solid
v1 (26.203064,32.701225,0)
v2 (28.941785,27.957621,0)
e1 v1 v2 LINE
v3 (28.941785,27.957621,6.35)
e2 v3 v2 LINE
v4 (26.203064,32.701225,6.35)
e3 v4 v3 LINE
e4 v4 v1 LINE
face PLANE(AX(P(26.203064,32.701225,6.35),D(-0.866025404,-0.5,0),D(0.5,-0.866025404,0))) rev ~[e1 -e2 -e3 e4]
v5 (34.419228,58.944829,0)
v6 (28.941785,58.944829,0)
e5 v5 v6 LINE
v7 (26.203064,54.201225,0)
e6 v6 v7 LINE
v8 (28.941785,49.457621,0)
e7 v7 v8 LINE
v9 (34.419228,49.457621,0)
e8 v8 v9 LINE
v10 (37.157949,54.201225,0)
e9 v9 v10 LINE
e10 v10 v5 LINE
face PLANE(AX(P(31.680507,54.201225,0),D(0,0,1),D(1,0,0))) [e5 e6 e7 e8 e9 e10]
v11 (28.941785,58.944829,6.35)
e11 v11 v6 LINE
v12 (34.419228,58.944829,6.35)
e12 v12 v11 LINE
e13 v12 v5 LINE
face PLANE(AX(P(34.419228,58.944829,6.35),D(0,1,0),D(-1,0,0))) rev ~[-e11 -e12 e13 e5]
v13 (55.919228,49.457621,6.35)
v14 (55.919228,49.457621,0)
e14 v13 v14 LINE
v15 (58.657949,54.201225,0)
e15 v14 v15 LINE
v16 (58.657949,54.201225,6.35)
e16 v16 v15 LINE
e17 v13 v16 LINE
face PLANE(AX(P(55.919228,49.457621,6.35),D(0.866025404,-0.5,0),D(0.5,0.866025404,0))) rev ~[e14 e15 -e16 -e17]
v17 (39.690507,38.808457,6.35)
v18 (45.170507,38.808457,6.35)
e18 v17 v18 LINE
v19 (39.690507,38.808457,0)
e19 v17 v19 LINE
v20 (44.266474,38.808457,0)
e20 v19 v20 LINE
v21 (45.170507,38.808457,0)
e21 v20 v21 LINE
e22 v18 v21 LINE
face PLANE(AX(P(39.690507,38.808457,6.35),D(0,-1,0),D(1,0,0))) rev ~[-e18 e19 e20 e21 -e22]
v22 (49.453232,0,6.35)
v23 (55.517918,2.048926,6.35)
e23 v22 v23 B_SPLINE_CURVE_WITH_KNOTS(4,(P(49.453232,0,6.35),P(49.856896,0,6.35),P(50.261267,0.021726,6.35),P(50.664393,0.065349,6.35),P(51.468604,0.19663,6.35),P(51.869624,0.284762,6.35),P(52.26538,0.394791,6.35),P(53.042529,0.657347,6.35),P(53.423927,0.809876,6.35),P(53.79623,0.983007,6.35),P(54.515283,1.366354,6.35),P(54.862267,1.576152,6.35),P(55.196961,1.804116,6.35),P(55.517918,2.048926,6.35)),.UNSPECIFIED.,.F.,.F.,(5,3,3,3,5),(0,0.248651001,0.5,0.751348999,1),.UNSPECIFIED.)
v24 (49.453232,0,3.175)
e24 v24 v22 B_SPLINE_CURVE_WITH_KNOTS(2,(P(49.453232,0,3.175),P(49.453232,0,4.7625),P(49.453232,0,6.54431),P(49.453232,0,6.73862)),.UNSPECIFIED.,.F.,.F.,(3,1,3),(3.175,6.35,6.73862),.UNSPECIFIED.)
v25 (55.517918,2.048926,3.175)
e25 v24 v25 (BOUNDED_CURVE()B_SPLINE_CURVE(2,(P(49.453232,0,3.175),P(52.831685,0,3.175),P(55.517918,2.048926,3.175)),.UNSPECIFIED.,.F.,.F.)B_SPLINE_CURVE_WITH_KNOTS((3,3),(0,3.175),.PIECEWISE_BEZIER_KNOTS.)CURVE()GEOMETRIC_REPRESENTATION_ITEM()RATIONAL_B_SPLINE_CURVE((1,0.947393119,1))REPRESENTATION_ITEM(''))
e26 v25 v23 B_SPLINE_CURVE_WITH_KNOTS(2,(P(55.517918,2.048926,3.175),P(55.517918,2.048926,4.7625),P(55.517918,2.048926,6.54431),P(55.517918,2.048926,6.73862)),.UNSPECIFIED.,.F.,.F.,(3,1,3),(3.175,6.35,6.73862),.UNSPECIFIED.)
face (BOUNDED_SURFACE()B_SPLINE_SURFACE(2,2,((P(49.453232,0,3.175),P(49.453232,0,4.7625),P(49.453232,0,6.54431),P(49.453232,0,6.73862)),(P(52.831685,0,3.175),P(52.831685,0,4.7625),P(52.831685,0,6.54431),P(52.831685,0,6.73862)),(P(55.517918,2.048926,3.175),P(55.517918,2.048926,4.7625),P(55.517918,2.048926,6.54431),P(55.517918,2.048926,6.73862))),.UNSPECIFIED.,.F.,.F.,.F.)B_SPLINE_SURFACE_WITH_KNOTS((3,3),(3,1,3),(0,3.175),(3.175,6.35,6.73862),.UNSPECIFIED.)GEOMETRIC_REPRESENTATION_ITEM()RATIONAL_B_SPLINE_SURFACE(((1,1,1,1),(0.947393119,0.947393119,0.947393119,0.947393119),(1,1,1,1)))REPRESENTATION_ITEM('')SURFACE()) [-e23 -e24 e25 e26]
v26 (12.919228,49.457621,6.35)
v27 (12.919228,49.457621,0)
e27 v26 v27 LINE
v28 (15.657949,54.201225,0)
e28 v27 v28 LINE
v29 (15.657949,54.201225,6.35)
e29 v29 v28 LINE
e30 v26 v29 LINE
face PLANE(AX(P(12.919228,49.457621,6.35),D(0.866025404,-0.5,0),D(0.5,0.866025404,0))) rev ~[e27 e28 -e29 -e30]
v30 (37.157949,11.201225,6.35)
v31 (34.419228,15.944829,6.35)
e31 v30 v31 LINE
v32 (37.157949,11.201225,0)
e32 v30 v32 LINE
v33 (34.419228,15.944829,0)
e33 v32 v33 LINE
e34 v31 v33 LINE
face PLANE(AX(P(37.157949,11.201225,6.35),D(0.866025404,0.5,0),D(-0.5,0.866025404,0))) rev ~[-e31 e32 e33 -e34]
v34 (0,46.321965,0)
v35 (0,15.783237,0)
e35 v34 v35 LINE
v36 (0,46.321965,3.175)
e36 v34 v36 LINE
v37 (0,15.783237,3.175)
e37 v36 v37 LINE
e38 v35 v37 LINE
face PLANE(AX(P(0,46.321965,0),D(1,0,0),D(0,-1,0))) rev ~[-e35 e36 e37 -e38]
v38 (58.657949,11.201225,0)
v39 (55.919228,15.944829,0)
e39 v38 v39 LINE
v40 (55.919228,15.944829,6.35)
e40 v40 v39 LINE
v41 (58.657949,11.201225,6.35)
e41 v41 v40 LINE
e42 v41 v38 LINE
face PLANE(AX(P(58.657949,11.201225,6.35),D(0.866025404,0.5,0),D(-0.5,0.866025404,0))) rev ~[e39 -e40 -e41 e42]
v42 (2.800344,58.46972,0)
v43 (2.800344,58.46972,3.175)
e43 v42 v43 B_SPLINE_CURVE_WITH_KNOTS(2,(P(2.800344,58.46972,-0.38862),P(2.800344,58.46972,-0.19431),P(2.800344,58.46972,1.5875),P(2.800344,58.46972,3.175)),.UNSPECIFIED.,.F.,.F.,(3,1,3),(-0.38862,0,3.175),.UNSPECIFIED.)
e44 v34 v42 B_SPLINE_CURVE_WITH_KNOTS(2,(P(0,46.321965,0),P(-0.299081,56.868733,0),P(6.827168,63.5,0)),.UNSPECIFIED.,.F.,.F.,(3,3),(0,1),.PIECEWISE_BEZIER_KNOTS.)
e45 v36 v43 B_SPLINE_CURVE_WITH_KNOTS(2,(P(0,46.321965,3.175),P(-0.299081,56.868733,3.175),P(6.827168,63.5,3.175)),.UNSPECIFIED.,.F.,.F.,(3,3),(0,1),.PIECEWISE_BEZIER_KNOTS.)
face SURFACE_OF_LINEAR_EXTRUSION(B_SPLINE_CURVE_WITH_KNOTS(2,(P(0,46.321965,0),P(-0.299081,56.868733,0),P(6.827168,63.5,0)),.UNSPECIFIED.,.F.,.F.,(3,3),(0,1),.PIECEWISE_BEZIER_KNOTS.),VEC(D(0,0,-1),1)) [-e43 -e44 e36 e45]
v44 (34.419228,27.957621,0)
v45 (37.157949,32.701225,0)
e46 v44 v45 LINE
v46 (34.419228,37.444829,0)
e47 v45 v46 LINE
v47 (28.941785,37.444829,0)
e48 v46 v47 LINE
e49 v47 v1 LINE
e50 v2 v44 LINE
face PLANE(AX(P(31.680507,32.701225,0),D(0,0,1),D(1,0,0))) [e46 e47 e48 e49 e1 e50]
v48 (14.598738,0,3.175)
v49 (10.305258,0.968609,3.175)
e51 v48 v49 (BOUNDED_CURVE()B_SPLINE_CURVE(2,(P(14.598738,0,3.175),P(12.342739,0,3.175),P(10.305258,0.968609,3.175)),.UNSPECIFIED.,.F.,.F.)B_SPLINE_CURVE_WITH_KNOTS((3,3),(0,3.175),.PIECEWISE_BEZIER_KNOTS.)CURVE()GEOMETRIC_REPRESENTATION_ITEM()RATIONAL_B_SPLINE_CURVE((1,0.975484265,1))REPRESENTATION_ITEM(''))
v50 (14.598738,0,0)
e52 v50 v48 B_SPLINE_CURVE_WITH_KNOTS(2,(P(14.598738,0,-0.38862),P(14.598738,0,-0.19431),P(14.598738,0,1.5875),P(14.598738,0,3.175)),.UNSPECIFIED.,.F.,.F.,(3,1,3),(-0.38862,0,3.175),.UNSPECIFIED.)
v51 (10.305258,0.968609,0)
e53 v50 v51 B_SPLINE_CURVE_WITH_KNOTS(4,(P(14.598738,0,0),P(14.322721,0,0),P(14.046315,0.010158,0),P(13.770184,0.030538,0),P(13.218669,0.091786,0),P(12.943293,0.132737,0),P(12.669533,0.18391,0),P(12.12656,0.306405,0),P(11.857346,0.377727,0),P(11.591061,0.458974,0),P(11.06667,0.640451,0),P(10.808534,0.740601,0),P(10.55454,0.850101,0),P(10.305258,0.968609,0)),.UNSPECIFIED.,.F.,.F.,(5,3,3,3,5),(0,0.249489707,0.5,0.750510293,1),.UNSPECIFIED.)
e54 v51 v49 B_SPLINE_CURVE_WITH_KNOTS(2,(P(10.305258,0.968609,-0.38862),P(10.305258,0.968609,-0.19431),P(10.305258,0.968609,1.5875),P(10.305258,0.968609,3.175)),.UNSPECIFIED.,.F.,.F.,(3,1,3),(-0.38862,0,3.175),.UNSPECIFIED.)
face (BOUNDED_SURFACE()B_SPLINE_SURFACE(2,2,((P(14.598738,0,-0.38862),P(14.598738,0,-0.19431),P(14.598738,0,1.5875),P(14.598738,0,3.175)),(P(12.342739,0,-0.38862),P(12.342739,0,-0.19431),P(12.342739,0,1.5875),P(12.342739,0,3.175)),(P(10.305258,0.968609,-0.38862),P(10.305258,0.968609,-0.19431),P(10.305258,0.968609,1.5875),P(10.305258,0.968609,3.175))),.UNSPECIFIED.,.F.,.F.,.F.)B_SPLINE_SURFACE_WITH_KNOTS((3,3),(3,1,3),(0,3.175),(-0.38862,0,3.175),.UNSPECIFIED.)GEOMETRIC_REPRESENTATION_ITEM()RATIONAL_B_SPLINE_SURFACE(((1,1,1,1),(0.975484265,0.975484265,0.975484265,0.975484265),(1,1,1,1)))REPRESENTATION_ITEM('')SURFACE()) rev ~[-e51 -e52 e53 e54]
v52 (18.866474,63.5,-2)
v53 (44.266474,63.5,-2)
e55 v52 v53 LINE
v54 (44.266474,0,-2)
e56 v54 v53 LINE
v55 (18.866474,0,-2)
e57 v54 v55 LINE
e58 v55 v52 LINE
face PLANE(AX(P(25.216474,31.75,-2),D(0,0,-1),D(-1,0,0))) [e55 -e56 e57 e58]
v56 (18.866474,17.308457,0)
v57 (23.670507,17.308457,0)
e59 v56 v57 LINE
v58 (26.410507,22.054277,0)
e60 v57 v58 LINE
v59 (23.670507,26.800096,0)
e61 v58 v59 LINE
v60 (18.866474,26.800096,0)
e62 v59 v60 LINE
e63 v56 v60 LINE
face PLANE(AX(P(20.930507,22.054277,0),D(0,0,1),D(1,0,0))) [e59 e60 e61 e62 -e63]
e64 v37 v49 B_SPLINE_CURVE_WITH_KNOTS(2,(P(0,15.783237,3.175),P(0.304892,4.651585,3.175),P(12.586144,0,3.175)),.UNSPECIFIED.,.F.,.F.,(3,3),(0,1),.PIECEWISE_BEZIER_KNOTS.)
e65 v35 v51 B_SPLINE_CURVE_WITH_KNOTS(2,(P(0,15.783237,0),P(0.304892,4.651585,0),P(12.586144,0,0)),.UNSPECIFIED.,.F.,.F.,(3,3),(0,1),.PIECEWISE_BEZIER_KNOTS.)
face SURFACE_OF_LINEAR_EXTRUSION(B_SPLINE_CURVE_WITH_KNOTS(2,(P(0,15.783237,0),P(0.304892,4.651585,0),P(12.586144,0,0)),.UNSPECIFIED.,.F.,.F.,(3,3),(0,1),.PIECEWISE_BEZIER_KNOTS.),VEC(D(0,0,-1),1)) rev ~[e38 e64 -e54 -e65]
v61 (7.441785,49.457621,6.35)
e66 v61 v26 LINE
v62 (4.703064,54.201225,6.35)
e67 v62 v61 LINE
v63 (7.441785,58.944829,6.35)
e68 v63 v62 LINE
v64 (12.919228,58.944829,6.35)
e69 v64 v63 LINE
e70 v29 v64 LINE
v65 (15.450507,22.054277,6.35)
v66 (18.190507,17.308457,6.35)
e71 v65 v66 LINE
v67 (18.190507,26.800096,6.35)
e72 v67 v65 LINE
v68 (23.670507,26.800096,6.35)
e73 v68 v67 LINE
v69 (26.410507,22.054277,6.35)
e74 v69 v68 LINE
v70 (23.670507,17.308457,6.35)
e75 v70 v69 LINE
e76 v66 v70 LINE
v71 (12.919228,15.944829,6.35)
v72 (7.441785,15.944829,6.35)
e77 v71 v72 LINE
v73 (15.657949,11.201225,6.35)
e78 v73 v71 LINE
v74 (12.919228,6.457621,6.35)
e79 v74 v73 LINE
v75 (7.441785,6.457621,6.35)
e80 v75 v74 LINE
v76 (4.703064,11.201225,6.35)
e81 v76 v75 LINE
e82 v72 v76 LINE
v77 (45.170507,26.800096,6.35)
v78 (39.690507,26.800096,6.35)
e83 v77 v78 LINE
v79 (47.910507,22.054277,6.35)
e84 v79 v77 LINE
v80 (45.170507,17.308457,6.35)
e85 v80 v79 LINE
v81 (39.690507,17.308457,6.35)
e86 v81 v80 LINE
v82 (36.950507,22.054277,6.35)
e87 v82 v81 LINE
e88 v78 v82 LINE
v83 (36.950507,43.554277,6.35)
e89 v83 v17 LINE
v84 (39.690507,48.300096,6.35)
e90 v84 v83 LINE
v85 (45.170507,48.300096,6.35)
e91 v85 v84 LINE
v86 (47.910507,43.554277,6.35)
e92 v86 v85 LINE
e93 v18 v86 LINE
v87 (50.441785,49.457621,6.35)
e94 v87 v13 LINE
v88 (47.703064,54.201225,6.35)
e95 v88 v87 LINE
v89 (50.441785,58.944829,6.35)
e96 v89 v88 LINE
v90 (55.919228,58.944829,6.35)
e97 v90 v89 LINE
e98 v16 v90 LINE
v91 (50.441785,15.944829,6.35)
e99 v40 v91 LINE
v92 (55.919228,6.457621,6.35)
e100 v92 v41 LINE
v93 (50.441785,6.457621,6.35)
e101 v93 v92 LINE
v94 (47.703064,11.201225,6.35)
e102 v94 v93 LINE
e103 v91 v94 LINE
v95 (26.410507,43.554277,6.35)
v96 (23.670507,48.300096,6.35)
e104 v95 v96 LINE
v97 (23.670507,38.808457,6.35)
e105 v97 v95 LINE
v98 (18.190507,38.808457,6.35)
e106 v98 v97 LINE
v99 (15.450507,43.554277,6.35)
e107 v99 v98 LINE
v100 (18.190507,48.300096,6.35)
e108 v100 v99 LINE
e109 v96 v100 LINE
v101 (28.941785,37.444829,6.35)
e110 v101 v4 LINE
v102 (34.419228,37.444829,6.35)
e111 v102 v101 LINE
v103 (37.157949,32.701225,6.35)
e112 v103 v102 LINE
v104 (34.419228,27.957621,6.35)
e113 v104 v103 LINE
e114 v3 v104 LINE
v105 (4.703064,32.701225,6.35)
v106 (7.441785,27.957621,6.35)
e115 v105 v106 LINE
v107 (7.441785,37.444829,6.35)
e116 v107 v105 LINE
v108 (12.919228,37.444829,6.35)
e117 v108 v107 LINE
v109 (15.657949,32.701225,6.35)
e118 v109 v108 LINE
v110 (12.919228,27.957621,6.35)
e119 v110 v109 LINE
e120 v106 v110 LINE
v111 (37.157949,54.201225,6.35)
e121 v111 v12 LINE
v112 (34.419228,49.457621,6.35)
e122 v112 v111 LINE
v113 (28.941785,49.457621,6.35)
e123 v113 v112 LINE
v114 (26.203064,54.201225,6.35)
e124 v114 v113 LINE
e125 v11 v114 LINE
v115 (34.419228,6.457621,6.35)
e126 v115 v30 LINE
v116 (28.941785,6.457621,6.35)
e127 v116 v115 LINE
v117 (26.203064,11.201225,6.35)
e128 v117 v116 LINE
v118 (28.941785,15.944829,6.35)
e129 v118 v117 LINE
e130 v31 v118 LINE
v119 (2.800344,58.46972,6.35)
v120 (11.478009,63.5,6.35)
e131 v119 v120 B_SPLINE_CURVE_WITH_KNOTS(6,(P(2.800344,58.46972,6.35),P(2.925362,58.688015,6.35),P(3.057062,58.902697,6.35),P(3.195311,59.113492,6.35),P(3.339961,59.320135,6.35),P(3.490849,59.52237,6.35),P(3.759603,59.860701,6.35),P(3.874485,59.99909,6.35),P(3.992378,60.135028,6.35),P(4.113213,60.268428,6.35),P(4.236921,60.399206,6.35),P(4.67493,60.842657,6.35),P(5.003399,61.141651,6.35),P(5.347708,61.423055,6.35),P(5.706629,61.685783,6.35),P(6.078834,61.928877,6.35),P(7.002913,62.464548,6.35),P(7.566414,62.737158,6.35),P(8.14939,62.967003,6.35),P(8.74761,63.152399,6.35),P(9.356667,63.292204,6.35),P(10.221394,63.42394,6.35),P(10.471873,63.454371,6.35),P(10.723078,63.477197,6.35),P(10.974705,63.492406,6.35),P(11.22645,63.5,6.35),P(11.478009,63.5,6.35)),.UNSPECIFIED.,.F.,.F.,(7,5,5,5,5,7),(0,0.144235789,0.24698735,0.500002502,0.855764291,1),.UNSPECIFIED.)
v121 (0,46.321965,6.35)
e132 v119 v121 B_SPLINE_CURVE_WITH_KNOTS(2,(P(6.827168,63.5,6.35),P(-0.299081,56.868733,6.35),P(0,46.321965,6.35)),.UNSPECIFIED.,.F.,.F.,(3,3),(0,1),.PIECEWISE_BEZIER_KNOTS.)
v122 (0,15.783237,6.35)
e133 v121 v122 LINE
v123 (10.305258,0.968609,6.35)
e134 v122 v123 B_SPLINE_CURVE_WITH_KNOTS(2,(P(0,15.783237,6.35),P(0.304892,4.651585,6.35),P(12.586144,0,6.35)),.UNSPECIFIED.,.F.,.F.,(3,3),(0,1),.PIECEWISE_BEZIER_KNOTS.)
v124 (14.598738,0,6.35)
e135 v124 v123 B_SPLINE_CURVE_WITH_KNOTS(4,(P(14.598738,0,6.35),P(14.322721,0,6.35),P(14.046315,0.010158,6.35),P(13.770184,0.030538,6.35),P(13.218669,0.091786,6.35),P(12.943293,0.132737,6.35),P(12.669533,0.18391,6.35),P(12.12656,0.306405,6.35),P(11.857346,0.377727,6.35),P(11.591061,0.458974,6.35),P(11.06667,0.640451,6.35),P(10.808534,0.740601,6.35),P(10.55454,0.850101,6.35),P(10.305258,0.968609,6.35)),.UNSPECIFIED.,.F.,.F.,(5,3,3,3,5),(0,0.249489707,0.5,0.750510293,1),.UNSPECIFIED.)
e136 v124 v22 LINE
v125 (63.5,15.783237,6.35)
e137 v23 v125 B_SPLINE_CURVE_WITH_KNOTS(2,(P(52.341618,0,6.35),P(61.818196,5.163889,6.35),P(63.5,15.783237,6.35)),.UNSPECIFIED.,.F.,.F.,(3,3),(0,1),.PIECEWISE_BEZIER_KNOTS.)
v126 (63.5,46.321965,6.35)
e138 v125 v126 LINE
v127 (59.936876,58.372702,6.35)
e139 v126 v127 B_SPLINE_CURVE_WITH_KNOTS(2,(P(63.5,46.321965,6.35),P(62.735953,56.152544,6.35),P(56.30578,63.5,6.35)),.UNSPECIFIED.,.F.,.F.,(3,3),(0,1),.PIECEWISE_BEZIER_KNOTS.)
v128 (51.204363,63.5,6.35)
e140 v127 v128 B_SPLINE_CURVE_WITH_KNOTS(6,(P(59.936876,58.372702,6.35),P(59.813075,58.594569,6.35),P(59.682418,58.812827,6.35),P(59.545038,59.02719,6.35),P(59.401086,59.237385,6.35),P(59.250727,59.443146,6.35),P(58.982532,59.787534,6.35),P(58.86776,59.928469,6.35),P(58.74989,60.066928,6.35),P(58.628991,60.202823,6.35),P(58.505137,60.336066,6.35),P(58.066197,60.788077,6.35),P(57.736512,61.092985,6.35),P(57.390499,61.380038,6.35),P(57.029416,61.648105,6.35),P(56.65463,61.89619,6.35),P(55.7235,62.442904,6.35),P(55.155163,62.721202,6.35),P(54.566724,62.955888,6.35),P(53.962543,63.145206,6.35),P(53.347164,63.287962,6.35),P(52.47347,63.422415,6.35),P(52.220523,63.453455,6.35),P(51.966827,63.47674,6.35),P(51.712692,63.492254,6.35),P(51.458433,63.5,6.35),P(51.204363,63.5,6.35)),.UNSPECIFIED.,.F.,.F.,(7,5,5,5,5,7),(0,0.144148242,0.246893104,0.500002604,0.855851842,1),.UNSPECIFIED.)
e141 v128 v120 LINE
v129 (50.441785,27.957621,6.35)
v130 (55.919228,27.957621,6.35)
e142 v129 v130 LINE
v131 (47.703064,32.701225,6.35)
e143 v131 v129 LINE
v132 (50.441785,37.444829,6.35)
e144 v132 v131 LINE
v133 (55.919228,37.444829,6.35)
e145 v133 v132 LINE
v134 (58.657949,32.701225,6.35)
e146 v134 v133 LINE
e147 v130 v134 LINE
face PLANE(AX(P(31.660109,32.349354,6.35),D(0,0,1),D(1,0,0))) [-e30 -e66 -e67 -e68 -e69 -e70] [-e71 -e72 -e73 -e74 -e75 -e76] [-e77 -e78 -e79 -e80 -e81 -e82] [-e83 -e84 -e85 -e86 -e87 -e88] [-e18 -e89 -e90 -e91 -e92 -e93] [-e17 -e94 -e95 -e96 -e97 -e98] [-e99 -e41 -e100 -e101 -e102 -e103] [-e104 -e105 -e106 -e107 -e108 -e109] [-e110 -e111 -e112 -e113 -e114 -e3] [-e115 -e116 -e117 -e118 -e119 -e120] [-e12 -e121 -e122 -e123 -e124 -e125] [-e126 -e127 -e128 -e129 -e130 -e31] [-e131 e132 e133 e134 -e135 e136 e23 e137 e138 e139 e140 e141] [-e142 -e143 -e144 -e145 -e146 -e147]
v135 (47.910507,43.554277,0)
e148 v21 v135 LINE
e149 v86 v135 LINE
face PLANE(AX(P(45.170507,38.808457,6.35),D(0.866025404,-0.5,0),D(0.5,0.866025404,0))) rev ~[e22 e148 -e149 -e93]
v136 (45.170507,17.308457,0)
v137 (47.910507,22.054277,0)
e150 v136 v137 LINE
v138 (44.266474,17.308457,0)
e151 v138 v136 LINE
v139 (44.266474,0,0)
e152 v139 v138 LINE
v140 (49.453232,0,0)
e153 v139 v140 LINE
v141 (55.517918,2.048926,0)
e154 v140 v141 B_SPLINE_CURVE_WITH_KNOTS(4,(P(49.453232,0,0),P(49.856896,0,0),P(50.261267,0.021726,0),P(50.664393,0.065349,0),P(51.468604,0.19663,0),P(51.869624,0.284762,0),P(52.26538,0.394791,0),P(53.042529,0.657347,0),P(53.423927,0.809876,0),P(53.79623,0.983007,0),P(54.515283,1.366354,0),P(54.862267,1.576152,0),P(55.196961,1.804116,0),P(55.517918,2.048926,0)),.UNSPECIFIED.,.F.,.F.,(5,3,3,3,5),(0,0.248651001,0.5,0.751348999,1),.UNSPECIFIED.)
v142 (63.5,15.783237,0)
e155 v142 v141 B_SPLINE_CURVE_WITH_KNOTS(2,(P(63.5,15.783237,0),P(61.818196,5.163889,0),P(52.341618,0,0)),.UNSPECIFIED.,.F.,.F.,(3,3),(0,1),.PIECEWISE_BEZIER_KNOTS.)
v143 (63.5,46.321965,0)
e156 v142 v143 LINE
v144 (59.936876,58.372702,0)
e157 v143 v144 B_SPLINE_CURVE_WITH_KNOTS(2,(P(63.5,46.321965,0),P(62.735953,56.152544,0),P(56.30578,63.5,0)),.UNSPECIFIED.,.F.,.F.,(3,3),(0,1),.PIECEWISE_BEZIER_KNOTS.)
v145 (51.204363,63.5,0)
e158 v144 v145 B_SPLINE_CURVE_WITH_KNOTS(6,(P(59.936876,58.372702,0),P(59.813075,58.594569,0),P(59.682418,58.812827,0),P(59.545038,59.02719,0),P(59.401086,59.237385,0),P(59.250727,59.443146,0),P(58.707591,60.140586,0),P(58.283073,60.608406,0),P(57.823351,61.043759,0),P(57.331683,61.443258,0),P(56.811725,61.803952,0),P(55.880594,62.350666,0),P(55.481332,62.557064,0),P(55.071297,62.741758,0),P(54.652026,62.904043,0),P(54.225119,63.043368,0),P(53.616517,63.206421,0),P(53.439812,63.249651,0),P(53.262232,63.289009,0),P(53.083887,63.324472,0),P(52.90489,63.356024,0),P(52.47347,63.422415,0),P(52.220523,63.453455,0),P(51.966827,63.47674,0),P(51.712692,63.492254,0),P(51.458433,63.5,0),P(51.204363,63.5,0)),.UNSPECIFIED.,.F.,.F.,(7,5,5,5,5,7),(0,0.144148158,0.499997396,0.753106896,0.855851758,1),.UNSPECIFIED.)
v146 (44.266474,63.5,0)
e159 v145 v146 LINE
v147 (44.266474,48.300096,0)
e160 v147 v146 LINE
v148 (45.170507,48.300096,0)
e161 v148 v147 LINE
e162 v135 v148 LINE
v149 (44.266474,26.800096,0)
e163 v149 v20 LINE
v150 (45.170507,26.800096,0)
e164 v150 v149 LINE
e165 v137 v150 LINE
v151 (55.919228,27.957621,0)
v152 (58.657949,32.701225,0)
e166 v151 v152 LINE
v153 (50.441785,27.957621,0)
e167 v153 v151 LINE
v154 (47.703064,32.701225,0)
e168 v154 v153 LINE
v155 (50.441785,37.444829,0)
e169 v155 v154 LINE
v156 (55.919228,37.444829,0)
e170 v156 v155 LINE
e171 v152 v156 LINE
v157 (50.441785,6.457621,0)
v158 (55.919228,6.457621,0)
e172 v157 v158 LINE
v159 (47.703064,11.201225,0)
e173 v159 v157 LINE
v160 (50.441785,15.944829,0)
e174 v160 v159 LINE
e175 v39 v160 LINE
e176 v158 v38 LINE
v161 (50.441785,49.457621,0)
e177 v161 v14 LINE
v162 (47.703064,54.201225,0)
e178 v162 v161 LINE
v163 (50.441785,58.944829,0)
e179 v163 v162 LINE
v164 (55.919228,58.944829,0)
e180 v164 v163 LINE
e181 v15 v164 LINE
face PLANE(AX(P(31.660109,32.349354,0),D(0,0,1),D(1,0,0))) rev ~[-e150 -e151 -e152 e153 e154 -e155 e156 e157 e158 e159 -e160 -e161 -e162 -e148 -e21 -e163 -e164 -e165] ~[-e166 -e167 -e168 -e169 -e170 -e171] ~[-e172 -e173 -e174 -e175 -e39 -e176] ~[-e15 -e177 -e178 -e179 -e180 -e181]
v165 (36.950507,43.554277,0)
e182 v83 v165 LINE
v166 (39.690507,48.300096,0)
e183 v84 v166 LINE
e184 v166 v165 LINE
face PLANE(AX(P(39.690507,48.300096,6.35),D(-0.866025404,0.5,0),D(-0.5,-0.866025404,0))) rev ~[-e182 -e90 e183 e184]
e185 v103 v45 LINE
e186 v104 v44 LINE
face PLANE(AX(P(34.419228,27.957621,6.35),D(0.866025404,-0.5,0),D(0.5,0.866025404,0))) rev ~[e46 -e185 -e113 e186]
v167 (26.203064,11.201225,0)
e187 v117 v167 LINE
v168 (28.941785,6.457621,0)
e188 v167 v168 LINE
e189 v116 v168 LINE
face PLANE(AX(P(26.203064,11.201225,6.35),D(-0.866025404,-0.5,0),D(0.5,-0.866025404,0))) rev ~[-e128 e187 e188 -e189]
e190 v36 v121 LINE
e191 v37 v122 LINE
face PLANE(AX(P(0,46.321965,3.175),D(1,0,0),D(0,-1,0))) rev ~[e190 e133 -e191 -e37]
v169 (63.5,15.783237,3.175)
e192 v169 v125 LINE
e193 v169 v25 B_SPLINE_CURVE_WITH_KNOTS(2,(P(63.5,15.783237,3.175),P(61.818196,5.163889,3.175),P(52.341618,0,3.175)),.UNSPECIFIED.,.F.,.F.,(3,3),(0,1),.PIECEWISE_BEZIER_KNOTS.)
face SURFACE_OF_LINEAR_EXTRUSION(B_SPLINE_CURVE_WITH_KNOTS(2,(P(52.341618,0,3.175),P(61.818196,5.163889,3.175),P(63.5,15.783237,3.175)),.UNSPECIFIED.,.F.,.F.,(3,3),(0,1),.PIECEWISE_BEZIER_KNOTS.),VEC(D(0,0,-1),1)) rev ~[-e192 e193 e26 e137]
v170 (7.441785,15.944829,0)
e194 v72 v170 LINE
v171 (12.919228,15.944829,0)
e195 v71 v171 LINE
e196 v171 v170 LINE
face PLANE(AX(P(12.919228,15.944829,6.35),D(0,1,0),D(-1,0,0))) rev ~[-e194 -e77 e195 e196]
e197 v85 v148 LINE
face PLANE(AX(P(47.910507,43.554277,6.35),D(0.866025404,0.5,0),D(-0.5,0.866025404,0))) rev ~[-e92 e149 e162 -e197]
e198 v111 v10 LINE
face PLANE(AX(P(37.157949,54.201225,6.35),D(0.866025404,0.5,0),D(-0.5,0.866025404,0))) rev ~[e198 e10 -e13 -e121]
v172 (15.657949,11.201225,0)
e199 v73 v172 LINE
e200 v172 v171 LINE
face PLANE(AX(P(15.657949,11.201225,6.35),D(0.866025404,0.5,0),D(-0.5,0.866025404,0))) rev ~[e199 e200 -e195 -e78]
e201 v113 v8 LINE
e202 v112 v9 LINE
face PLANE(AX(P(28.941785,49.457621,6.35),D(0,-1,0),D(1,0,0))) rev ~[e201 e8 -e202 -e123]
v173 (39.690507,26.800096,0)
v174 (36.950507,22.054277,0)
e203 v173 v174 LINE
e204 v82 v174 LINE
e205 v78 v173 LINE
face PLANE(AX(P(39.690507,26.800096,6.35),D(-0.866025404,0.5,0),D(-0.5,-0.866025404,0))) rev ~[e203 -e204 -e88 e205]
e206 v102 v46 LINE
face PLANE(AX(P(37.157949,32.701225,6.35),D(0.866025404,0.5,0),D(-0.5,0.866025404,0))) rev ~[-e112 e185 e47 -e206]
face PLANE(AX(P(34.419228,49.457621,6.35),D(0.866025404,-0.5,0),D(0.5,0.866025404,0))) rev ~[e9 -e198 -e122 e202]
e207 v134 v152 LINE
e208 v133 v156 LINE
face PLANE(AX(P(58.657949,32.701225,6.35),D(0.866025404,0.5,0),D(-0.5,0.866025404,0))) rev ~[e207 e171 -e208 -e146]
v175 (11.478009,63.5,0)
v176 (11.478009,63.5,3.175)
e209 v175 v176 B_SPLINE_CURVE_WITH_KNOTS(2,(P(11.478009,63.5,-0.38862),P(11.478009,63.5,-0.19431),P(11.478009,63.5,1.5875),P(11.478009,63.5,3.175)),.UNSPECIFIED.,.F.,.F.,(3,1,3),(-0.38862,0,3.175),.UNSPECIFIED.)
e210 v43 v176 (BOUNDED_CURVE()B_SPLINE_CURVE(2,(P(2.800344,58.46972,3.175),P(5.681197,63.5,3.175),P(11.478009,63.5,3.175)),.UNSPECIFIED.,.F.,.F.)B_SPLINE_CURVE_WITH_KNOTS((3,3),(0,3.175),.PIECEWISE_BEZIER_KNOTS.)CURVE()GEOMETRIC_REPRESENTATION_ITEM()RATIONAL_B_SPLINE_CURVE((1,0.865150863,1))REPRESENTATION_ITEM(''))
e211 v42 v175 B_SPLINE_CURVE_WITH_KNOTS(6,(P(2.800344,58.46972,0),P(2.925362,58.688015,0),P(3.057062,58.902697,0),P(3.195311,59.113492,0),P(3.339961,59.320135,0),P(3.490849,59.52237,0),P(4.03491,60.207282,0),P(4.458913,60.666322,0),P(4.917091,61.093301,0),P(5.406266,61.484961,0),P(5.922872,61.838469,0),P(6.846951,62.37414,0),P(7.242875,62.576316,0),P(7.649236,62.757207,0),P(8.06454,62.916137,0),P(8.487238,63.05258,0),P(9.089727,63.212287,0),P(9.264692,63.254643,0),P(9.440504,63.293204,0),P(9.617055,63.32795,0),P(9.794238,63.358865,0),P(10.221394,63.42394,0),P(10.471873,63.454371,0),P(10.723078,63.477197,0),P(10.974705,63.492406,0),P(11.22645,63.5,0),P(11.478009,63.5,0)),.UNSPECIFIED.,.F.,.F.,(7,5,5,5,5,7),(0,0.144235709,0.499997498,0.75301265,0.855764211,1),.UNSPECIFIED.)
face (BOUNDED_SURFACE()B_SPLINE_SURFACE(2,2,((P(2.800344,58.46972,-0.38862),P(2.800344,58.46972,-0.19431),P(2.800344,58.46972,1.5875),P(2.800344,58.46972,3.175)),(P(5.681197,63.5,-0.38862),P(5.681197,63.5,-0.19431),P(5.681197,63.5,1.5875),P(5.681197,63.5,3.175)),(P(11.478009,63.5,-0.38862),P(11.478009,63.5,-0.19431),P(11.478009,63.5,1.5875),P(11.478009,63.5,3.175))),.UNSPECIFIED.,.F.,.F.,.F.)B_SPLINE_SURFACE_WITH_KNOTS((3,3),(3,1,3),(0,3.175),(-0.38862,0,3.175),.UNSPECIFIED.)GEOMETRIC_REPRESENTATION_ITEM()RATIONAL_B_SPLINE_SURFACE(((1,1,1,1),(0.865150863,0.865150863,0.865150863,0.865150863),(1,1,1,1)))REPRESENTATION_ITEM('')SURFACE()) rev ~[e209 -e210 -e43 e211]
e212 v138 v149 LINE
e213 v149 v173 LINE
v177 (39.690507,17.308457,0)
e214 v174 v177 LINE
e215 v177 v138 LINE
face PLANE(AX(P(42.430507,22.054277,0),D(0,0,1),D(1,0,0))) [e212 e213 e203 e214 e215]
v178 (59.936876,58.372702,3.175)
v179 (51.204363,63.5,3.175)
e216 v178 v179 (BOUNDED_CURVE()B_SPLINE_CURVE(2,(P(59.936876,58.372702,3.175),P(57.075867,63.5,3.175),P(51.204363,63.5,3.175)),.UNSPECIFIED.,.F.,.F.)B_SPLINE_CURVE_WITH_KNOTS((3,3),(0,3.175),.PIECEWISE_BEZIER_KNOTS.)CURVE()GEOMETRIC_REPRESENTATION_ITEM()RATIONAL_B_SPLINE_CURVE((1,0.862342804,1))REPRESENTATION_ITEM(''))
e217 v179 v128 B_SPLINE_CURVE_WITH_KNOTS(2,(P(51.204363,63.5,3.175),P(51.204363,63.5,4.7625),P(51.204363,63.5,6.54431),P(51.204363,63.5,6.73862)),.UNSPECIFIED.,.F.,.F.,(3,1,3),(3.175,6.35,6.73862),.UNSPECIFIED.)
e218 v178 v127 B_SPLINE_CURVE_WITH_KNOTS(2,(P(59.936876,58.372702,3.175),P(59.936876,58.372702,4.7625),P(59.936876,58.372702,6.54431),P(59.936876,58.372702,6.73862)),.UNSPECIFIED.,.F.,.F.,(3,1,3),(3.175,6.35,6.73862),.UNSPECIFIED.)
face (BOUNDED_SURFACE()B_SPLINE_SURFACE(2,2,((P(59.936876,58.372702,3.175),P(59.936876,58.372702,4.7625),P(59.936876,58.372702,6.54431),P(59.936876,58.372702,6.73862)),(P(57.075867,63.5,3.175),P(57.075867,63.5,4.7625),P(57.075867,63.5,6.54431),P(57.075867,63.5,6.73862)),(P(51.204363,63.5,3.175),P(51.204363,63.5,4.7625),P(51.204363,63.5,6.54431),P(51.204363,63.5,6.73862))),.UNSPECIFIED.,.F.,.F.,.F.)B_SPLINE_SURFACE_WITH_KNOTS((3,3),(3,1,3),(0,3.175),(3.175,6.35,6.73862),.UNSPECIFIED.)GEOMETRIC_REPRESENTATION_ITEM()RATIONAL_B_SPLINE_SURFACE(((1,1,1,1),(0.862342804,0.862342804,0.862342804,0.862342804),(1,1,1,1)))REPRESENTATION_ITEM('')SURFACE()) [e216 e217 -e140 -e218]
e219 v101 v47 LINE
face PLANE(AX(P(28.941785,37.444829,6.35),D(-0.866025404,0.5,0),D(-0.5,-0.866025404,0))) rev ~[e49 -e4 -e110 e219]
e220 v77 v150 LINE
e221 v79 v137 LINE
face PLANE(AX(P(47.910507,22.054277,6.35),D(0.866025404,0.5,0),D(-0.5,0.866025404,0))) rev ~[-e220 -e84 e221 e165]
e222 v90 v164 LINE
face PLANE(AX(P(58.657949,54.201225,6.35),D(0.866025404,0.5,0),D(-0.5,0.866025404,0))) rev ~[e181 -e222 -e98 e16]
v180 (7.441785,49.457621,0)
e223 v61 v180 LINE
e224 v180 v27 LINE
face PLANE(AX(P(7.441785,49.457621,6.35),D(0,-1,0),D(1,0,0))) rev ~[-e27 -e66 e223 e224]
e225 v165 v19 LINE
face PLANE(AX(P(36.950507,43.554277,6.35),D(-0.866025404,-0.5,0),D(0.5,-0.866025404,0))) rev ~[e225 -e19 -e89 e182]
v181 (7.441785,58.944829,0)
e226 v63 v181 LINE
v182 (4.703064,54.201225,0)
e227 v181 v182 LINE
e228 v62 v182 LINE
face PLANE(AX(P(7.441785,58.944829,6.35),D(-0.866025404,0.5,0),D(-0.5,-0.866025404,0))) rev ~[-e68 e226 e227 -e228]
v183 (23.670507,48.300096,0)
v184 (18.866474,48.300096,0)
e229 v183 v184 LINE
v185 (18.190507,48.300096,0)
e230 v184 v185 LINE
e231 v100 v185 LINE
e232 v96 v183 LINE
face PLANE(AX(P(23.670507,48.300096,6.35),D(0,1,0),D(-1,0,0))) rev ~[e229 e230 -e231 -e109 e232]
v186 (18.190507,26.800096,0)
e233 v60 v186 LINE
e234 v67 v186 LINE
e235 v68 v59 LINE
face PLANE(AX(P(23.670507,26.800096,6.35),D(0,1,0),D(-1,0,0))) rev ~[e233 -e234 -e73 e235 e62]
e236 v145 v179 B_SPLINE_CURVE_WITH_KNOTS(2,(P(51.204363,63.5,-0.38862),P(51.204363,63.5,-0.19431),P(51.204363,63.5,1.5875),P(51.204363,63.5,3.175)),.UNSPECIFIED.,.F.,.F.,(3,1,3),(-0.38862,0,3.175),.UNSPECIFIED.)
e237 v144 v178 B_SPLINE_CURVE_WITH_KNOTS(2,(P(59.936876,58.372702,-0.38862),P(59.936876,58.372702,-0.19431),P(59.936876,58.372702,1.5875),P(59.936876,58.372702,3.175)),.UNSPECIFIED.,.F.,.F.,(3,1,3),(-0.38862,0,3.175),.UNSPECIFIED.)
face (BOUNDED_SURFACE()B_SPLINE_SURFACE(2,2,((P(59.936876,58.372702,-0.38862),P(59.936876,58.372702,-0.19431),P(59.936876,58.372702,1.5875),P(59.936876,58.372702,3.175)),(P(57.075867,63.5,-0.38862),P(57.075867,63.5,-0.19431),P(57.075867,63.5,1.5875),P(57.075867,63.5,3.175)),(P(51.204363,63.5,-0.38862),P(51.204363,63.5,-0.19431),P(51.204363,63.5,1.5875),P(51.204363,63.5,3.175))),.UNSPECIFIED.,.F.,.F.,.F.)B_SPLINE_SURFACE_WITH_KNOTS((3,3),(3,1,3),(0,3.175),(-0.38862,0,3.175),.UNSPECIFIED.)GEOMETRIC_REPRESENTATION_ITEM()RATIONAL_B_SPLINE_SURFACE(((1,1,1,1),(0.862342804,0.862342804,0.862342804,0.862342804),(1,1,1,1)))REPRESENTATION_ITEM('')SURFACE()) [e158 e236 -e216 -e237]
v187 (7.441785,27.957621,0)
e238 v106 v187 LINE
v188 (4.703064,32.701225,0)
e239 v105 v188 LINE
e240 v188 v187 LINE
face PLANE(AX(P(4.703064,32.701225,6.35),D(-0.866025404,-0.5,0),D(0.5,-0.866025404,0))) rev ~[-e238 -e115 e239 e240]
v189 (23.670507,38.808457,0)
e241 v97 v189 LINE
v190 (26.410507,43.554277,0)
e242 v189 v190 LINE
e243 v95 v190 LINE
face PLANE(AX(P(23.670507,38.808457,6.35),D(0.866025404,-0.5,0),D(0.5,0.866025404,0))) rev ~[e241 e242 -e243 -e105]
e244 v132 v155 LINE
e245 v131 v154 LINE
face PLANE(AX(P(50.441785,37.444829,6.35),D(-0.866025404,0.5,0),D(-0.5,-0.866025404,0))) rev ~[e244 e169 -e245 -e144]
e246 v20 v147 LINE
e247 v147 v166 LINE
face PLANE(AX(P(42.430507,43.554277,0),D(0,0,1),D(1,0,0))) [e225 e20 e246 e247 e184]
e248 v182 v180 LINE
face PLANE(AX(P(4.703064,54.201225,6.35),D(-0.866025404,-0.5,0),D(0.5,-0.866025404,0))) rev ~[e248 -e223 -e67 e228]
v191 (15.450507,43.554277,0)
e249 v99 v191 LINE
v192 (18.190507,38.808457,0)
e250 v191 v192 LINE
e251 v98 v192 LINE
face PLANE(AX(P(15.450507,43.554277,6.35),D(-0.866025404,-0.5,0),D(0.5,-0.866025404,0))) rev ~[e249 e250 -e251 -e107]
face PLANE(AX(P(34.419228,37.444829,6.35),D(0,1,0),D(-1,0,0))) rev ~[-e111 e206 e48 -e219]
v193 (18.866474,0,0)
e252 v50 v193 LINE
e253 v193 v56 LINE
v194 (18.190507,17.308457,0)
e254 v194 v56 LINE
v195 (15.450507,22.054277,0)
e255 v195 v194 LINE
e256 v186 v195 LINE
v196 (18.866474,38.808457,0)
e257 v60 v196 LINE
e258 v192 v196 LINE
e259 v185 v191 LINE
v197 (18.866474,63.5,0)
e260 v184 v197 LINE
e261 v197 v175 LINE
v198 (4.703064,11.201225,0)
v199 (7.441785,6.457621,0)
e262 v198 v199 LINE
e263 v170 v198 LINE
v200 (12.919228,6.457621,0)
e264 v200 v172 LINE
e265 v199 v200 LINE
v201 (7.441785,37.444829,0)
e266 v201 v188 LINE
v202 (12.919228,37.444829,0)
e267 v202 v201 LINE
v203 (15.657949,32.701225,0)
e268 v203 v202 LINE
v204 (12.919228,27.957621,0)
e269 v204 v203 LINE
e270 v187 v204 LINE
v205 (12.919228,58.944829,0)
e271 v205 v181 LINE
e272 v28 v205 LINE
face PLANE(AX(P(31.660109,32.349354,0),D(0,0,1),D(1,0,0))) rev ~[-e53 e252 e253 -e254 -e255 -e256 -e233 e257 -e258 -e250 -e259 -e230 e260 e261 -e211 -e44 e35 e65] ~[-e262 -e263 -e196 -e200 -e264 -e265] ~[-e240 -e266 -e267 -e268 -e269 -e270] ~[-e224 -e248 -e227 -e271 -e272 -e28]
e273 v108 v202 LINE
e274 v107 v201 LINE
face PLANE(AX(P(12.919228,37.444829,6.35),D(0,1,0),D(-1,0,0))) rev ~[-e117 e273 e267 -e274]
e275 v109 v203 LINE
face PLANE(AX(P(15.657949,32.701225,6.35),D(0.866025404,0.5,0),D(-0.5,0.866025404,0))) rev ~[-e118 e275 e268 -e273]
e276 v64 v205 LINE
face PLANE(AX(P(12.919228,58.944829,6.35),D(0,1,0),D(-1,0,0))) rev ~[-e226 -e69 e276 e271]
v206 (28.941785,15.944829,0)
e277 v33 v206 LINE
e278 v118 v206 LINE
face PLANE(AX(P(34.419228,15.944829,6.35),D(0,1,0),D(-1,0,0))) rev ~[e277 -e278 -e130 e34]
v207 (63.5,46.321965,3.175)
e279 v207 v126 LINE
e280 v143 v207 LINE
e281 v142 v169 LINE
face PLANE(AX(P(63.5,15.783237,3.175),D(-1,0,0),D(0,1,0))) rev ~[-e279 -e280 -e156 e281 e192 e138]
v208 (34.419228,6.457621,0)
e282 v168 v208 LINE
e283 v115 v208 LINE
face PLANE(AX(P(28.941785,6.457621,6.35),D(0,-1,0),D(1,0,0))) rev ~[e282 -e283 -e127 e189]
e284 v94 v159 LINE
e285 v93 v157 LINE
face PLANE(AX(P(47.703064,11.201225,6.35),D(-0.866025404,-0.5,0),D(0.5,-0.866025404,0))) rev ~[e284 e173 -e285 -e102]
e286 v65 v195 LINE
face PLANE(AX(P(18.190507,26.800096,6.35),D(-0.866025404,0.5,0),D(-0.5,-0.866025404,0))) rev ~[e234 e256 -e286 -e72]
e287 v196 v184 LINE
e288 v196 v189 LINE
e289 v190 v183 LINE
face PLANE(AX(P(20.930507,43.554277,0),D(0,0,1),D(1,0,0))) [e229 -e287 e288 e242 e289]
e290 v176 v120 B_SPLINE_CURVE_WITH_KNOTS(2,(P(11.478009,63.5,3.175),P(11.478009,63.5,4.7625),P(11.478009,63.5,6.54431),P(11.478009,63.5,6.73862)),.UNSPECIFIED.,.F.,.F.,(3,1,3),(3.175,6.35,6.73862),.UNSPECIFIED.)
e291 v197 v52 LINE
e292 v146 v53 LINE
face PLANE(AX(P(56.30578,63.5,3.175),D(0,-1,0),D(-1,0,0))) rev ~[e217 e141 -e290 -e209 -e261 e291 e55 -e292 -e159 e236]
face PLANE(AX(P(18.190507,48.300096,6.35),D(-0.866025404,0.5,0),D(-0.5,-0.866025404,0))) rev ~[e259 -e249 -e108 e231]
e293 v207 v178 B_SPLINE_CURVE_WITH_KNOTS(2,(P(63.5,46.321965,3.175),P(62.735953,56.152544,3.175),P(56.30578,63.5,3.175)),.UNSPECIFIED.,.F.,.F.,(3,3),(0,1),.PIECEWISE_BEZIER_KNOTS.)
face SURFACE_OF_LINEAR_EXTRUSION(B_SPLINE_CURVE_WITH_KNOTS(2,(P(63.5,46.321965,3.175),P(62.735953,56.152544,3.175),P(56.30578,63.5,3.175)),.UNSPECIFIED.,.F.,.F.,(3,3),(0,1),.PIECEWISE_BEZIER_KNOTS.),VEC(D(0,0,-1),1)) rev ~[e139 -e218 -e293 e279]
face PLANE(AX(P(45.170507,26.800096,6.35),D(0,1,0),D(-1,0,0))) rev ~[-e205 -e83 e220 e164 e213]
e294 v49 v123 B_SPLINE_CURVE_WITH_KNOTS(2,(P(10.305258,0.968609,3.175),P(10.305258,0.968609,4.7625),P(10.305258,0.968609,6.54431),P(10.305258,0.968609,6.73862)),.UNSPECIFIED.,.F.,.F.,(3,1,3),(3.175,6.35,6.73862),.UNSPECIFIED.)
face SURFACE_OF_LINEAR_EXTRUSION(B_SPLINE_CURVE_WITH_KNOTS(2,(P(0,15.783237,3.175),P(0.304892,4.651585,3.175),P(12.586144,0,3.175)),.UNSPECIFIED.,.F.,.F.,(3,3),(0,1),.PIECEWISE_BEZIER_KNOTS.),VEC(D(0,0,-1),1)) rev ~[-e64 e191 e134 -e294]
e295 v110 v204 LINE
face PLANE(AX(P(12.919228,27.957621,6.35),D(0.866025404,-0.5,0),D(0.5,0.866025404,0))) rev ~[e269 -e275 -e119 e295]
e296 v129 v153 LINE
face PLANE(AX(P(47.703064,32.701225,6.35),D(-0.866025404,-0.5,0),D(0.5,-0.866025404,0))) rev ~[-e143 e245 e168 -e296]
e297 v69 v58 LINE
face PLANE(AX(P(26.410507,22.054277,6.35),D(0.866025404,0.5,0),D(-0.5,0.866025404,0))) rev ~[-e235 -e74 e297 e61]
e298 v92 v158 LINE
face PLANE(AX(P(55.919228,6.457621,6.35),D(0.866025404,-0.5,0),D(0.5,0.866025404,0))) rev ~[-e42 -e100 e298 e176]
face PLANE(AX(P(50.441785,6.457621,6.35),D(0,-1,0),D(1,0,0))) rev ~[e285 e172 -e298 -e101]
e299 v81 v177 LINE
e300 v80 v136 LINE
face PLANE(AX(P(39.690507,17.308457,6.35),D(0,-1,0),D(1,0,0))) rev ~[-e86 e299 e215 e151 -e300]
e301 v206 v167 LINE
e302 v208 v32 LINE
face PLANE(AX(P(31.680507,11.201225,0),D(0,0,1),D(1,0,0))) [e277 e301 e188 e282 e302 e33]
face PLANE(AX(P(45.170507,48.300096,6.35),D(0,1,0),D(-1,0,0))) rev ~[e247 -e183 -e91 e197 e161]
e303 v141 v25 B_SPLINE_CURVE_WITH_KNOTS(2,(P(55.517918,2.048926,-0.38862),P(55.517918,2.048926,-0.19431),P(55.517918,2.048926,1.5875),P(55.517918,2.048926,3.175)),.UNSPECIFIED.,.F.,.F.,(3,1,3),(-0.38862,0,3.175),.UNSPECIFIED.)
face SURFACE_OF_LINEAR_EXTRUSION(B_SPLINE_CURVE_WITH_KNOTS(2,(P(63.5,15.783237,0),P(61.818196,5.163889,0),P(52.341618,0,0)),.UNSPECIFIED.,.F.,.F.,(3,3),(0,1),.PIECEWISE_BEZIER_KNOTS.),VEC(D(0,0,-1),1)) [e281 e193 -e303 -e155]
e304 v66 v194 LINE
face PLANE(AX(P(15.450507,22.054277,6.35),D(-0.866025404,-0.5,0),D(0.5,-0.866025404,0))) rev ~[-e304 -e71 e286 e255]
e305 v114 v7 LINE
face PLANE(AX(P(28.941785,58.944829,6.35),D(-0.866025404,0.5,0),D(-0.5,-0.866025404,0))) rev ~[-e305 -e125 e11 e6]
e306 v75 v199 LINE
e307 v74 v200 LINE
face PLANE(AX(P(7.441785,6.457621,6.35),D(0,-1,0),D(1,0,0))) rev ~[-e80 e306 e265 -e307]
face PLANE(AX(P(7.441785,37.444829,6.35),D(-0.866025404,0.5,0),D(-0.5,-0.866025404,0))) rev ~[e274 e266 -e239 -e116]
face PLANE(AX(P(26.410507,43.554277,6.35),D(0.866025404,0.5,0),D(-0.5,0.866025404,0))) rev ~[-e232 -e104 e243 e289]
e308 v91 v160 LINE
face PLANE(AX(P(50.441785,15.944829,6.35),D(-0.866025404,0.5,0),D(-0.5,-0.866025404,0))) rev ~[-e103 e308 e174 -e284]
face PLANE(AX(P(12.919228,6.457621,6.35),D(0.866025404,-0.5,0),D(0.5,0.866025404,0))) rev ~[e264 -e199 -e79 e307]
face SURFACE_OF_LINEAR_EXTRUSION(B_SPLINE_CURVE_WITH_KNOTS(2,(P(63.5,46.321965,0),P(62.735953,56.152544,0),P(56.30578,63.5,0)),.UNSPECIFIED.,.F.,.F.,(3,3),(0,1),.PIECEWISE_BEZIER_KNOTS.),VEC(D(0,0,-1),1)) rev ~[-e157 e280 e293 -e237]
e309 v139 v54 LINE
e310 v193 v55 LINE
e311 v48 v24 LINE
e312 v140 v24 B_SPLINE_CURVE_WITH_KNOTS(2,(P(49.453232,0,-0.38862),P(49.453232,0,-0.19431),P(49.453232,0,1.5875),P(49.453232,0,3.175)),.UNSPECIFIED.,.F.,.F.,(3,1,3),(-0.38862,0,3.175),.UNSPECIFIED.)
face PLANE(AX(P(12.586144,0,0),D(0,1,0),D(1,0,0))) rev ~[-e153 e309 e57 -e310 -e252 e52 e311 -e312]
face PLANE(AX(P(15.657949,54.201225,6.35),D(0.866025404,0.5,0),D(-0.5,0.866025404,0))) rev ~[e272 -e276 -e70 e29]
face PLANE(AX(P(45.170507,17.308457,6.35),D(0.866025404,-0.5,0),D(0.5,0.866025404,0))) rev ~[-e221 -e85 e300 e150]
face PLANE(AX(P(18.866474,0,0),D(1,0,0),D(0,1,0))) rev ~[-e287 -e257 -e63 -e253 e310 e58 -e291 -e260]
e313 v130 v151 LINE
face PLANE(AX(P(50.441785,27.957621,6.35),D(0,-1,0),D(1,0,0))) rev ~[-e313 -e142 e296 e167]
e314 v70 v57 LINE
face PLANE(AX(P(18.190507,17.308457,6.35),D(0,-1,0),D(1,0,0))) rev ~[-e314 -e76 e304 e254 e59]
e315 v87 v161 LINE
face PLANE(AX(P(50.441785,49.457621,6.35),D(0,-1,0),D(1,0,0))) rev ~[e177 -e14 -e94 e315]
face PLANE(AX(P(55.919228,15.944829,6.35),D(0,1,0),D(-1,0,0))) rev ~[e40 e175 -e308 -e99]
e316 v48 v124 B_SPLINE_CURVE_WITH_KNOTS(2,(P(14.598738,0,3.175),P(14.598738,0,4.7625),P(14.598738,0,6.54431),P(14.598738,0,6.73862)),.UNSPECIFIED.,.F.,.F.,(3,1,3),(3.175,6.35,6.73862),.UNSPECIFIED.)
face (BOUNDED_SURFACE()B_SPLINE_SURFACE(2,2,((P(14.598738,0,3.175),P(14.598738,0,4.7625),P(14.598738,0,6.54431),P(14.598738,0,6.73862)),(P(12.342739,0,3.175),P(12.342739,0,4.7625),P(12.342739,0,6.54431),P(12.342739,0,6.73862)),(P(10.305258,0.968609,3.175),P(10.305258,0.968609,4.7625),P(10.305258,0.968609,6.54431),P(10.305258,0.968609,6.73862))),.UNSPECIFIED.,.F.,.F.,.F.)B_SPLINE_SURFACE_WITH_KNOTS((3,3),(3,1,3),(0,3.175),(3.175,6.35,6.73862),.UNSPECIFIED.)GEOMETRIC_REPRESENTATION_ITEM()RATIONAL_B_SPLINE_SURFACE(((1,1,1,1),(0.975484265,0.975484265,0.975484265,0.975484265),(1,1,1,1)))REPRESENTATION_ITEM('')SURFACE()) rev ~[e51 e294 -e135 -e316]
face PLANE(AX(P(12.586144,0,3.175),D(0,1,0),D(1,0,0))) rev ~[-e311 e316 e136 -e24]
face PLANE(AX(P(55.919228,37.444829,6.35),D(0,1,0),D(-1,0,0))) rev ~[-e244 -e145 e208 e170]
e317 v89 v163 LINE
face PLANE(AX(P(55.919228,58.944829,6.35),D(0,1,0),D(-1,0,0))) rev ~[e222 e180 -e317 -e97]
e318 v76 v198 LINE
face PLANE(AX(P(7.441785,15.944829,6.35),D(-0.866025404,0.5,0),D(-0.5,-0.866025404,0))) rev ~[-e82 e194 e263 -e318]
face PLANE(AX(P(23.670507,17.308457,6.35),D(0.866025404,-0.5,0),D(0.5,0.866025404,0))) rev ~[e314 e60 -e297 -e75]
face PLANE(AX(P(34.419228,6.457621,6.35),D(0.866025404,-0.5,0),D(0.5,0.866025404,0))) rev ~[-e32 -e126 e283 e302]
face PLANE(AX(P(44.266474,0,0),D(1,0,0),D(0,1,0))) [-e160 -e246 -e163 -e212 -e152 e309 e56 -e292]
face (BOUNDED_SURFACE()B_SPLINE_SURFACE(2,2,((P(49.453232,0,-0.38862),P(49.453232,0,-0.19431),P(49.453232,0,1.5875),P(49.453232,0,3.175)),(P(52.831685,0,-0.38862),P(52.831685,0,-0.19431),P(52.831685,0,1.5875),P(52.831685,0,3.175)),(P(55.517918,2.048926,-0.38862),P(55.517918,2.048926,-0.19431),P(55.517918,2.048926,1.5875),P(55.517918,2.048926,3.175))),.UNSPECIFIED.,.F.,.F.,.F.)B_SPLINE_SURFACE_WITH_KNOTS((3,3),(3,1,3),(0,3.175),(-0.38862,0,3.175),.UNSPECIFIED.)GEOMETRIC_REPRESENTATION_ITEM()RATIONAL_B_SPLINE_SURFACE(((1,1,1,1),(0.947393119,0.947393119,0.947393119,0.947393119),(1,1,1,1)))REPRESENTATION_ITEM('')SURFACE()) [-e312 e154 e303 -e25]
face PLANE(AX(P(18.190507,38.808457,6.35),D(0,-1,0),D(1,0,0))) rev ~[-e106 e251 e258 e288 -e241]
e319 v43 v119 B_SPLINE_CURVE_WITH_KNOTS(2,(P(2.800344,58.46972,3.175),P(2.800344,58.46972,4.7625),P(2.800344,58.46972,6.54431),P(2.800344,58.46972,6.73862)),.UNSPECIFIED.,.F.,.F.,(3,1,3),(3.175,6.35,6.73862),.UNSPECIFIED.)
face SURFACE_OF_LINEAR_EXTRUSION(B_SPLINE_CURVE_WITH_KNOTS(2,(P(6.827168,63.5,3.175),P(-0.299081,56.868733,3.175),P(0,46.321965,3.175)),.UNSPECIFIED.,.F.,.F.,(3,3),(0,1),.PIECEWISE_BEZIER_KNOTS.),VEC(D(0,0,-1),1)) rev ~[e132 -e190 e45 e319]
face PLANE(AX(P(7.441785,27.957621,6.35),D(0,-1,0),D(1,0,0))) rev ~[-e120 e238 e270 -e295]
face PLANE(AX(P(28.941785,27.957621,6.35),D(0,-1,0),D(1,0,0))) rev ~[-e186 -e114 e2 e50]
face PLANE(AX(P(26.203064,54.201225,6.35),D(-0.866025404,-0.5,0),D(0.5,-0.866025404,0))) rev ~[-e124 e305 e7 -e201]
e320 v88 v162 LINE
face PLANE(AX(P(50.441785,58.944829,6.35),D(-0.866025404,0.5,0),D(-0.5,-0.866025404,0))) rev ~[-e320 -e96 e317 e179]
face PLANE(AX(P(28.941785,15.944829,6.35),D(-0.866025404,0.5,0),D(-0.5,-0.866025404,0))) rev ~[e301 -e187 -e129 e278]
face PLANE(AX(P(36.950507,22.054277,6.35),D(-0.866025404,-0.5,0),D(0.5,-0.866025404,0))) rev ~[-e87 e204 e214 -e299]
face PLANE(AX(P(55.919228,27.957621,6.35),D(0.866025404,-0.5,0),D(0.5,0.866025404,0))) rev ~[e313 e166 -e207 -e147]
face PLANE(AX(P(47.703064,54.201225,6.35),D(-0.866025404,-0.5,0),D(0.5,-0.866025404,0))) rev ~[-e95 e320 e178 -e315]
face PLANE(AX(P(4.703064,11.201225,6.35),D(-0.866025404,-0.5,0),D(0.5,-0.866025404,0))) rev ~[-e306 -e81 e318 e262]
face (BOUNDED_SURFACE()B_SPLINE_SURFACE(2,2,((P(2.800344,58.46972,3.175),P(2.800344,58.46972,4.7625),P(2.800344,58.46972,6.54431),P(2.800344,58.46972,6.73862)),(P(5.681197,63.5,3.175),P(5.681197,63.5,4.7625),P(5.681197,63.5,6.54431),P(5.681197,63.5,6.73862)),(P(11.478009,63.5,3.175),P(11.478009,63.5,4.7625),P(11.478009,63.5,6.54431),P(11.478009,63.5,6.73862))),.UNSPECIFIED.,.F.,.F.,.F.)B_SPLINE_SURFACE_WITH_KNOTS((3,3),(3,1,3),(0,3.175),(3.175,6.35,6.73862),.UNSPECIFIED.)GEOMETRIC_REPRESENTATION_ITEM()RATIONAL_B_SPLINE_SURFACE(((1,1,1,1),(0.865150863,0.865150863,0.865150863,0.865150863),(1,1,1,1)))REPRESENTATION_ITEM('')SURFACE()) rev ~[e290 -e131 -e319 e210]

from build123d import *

# Parameters (mm, degrees)
BOSS_EXTRUDE1_DEPTH = 3.175
BOSS_EXTRUDE2_DEPTH = 3.175
SKETCH2_W           = 12.7
SKETCH2_H           = 63.5
BOSS_EXTRUDE3_DEPTH = 2
CUT_EXTRUDE1_DEPTH  = 6.35
FILLET1_R           = 10


with BuildPart() as part:
    # Sketch1 → Boss-Extrude1 (new body)
    with BuildSketch(Plane.XY):
        with BuildLine():
            Line((12.586143856, 0), (52.341618497, 0))
            add(Edge.make_bspline(
                [(63.5, 15.783236994), (61.818196066, 5.163888879), (52.341618497, 0)],
                knots=[0, 0, 0, 1, 1, 1], degree=2))
            Line((63.5, 15.783236994), (63.5, 46.321965318))
            add(Edge.make_bspline(
                [(63.5, 46.321965318), (62.735953046, 56.152543933), (56.305780347, 63.5)],
                knots=[0, 0, 0, 1, 1, 1], degree=2))
            Line((56.305780347, 63.5), (6.82716763, 63.5))
            add(Edge.make_bspline(
                [(0, 46.321965318), (-0.299080934, 56.868733054), (6.82716763, 63.5)],
                knots=[0, 0, 0, 1, 1, 1], degree=2))
            Line((0, 46.321965318), (0, 15.783236994))
            add(Edge.make_bspline(
                [(0, 15.783236994), (0.304891955, 4.651584914), (12.586143856, 0)],
                knots=[0, 0, 0, 1, 1, 1], degree=2))
        make_face()
    extrude(amount=BOSS_EXTRUDE1_DEPTH)

    # Sketch3 → Boss-Extrude2 (add)
    with BuildSketch(Plane.XY.offset(3.175)):
        with BuildLine():
            Line((12.586143857, -1e-09), (52.341618497, 0))
            add(Edge.make_bspline(
                [(52.341618497, 0), (61.818196066, 5.163888879), (63.5, 15.783236995)],
                knots=[0, 0, 0, 1, 1, 1], degree=2))
            Line((63.5, 15.783236995), (63.5, 46.321965318))
            add(Edge.make_bspline(
                [(63.5, 46.321965318), (62.735953046, 56.152543933), (56.305780347, 63.5)],
                knots=[0, 0, 0, 1, 1, 1], degree=2))
            Line((56.305780347, 63.5), (6.82716763, 63.5))
            add(Edge.make_bspline(
                [(6.82716763, 63.5), (-0.299080929, 56.868733059), (0, 46.321965333)],
                knots=[0, 0, 0, 1, 1, 1], degree=2))
            Line((0, 46.321965333), (-2e-09, 15.783237047))
            add(Edge.make_bspline(
                [(-2e-09, 15.783237047), (0.304891926, 4.651584925), (12.586143857, -1e-09)],
                knots=[0, 0, 0, 1, 1, 1], degree=2))
        make_face()
    extrude(amount=BOSS_EXTRUDE2_DEPTH)

    # Sketch2 → Boss-Extrude3 (add)
    with BuildSketch(Plane(origin=(0, 0, 0), x_dir=(-1, 0, 0), z_dir=(0, 0, -1))):
        with Locations((-25.216473988, 31.75)):
            Rectangle(SKETCH2_W, SKETCH2_H)
        with Locations((-37.916473988, 31.75)):
            Rectangle(SKETCH2_W, SKETCH2_H)
    extrude(amount=BOSS_EXTRUDE3_DEPTH)

    # Sketch4 → Cut-Extrude1 (cut)
    with BuildSketch(Plane.XY.offset(6.35)):
        Polygon((47.703064377, 54.201225123), (50.44178546, 49.457621059), (55.919227626, 49.457621059), (58.657948709, 54.201225123), (55.919227626, 58.944829186), (50.44178546, 58.944829186), align=None)
        Polygon((36.950506543, 43.554276624), (39.690506543, 38.808457411), (45.170506543, 38.808457411), (47.910506543, 43.554276624), (45.170506543, 48.300095837), (39.690506543, 48.300095837), align=None)
        Polygon((47.703064377, 32.701225123), (50.44178546, 27.957621059), (55.919227626, 27.957621059), (58.657948709, 32.701225123), (55.919227626, 37.444829186), (50.44178546, 37.444829186), align=None)
        Polygon((36.950506543, 22.054276624), (39.690506543, 17.308457411), (45.170506543, 17.308457411), (47.910506543, 22.054276624), (45.170506543, 26.800095837), (39.690506543, 26.800095837), align=None)
        Polygon((47.703064377, 11.201225123), (50.44178546, 6.457621059), (55.919227626, 6.457621059), (58.657948709, 11.201225123), (55.919227626, 15.944829186), (50.44178546, 15.944829186), align=None)
        Polygon((26.203064377, 11.201225123), (28.94178546, 6.457621059), (34.419227626, 6.457621059), (37.157948709, 11.201225123), (34.419227626, 15.944829186), (28.94178546, 15.944829186), align=None)
        Polygon((26.203064377, 32.701225123), (28.94178546, 27.957621059), (34.419227626, 27.957621059), (37.157948709, 32.701225123), (34.419227626, 37.444829186), (28.94178546, 37.444829186), align=None)
        Polygon((26.203064377, 54.201225123), (28.94178546, 49.457621059), (34.419227626, 49.457621059), (37.157948709, 54.201225123), (34.419227626, 58.944829186), (28.94178546, 58.944829186), align=None)
        Polygon((15.450506543, 43.554276624), (18.190506543, 38.808457411), (23.670506543, 38.808457411), (26.410506543, 43.554276624), (23.670506543, 48.300095837), (18.190506543, 48.300095837), align=None)
        Polygon((4.703064377, 54.201225123), (7.44178546, 49.457621059), (12.919227626, 49.457621059), (15.657948709, 54.201225123), (12.919227626, 58.944829186), (7.44178546, 58.944829186), align=None)
        Polygon((4.703064377, 32.701225123), (7.44178546, 27.957621059), (12.919227626, 27.957621059), (15.657948709, 32.701225123), (12.919227626, 37.444829186), (7.44178546, 37.444829186), align=None)
        Polygon((15.450506543, 22.054276624), (18.190506543, 17.308457411), (23.670506543, 17.308457411), (26.410506543, 22.054276624), (23.670506543, 26.800095837), (18.190506543, 26.800095837), align=None)
        Polygon((4.703064377, 11.201225123), (7.44178546, 6.457621059), (12.919227626, 6.457621059), (15.657948709, 11.201225123), (12.919227626, 15.944829186), (7.44178546, 15.944829186), align=None)
    extrude(amount=-CUT_EXTRUDE1_DEPTH, mode=Mode.SUBTRACT)

    # Fillet1
    fillet1_edges = [part.edges().sort_by_distance(p)[0] for p in [
        (56.305780347, 63.5, 4.7625),
        (52.341618497, 0, 1.5875),
        (12.586143856, 0, 1.5875),
        (6.82716763, 63.5, 4.7625),
        (56.305780347, 63.5, 1.5875),
        (52.341618497, 0, 4.7625),
        (12.586143857, -1e-09, 4.7625),
        (6.82716763, 63.5, 1.5875),
    ]]
    fillet(fillet1_edges, radius=FILLET1_R)


solid = part.part
